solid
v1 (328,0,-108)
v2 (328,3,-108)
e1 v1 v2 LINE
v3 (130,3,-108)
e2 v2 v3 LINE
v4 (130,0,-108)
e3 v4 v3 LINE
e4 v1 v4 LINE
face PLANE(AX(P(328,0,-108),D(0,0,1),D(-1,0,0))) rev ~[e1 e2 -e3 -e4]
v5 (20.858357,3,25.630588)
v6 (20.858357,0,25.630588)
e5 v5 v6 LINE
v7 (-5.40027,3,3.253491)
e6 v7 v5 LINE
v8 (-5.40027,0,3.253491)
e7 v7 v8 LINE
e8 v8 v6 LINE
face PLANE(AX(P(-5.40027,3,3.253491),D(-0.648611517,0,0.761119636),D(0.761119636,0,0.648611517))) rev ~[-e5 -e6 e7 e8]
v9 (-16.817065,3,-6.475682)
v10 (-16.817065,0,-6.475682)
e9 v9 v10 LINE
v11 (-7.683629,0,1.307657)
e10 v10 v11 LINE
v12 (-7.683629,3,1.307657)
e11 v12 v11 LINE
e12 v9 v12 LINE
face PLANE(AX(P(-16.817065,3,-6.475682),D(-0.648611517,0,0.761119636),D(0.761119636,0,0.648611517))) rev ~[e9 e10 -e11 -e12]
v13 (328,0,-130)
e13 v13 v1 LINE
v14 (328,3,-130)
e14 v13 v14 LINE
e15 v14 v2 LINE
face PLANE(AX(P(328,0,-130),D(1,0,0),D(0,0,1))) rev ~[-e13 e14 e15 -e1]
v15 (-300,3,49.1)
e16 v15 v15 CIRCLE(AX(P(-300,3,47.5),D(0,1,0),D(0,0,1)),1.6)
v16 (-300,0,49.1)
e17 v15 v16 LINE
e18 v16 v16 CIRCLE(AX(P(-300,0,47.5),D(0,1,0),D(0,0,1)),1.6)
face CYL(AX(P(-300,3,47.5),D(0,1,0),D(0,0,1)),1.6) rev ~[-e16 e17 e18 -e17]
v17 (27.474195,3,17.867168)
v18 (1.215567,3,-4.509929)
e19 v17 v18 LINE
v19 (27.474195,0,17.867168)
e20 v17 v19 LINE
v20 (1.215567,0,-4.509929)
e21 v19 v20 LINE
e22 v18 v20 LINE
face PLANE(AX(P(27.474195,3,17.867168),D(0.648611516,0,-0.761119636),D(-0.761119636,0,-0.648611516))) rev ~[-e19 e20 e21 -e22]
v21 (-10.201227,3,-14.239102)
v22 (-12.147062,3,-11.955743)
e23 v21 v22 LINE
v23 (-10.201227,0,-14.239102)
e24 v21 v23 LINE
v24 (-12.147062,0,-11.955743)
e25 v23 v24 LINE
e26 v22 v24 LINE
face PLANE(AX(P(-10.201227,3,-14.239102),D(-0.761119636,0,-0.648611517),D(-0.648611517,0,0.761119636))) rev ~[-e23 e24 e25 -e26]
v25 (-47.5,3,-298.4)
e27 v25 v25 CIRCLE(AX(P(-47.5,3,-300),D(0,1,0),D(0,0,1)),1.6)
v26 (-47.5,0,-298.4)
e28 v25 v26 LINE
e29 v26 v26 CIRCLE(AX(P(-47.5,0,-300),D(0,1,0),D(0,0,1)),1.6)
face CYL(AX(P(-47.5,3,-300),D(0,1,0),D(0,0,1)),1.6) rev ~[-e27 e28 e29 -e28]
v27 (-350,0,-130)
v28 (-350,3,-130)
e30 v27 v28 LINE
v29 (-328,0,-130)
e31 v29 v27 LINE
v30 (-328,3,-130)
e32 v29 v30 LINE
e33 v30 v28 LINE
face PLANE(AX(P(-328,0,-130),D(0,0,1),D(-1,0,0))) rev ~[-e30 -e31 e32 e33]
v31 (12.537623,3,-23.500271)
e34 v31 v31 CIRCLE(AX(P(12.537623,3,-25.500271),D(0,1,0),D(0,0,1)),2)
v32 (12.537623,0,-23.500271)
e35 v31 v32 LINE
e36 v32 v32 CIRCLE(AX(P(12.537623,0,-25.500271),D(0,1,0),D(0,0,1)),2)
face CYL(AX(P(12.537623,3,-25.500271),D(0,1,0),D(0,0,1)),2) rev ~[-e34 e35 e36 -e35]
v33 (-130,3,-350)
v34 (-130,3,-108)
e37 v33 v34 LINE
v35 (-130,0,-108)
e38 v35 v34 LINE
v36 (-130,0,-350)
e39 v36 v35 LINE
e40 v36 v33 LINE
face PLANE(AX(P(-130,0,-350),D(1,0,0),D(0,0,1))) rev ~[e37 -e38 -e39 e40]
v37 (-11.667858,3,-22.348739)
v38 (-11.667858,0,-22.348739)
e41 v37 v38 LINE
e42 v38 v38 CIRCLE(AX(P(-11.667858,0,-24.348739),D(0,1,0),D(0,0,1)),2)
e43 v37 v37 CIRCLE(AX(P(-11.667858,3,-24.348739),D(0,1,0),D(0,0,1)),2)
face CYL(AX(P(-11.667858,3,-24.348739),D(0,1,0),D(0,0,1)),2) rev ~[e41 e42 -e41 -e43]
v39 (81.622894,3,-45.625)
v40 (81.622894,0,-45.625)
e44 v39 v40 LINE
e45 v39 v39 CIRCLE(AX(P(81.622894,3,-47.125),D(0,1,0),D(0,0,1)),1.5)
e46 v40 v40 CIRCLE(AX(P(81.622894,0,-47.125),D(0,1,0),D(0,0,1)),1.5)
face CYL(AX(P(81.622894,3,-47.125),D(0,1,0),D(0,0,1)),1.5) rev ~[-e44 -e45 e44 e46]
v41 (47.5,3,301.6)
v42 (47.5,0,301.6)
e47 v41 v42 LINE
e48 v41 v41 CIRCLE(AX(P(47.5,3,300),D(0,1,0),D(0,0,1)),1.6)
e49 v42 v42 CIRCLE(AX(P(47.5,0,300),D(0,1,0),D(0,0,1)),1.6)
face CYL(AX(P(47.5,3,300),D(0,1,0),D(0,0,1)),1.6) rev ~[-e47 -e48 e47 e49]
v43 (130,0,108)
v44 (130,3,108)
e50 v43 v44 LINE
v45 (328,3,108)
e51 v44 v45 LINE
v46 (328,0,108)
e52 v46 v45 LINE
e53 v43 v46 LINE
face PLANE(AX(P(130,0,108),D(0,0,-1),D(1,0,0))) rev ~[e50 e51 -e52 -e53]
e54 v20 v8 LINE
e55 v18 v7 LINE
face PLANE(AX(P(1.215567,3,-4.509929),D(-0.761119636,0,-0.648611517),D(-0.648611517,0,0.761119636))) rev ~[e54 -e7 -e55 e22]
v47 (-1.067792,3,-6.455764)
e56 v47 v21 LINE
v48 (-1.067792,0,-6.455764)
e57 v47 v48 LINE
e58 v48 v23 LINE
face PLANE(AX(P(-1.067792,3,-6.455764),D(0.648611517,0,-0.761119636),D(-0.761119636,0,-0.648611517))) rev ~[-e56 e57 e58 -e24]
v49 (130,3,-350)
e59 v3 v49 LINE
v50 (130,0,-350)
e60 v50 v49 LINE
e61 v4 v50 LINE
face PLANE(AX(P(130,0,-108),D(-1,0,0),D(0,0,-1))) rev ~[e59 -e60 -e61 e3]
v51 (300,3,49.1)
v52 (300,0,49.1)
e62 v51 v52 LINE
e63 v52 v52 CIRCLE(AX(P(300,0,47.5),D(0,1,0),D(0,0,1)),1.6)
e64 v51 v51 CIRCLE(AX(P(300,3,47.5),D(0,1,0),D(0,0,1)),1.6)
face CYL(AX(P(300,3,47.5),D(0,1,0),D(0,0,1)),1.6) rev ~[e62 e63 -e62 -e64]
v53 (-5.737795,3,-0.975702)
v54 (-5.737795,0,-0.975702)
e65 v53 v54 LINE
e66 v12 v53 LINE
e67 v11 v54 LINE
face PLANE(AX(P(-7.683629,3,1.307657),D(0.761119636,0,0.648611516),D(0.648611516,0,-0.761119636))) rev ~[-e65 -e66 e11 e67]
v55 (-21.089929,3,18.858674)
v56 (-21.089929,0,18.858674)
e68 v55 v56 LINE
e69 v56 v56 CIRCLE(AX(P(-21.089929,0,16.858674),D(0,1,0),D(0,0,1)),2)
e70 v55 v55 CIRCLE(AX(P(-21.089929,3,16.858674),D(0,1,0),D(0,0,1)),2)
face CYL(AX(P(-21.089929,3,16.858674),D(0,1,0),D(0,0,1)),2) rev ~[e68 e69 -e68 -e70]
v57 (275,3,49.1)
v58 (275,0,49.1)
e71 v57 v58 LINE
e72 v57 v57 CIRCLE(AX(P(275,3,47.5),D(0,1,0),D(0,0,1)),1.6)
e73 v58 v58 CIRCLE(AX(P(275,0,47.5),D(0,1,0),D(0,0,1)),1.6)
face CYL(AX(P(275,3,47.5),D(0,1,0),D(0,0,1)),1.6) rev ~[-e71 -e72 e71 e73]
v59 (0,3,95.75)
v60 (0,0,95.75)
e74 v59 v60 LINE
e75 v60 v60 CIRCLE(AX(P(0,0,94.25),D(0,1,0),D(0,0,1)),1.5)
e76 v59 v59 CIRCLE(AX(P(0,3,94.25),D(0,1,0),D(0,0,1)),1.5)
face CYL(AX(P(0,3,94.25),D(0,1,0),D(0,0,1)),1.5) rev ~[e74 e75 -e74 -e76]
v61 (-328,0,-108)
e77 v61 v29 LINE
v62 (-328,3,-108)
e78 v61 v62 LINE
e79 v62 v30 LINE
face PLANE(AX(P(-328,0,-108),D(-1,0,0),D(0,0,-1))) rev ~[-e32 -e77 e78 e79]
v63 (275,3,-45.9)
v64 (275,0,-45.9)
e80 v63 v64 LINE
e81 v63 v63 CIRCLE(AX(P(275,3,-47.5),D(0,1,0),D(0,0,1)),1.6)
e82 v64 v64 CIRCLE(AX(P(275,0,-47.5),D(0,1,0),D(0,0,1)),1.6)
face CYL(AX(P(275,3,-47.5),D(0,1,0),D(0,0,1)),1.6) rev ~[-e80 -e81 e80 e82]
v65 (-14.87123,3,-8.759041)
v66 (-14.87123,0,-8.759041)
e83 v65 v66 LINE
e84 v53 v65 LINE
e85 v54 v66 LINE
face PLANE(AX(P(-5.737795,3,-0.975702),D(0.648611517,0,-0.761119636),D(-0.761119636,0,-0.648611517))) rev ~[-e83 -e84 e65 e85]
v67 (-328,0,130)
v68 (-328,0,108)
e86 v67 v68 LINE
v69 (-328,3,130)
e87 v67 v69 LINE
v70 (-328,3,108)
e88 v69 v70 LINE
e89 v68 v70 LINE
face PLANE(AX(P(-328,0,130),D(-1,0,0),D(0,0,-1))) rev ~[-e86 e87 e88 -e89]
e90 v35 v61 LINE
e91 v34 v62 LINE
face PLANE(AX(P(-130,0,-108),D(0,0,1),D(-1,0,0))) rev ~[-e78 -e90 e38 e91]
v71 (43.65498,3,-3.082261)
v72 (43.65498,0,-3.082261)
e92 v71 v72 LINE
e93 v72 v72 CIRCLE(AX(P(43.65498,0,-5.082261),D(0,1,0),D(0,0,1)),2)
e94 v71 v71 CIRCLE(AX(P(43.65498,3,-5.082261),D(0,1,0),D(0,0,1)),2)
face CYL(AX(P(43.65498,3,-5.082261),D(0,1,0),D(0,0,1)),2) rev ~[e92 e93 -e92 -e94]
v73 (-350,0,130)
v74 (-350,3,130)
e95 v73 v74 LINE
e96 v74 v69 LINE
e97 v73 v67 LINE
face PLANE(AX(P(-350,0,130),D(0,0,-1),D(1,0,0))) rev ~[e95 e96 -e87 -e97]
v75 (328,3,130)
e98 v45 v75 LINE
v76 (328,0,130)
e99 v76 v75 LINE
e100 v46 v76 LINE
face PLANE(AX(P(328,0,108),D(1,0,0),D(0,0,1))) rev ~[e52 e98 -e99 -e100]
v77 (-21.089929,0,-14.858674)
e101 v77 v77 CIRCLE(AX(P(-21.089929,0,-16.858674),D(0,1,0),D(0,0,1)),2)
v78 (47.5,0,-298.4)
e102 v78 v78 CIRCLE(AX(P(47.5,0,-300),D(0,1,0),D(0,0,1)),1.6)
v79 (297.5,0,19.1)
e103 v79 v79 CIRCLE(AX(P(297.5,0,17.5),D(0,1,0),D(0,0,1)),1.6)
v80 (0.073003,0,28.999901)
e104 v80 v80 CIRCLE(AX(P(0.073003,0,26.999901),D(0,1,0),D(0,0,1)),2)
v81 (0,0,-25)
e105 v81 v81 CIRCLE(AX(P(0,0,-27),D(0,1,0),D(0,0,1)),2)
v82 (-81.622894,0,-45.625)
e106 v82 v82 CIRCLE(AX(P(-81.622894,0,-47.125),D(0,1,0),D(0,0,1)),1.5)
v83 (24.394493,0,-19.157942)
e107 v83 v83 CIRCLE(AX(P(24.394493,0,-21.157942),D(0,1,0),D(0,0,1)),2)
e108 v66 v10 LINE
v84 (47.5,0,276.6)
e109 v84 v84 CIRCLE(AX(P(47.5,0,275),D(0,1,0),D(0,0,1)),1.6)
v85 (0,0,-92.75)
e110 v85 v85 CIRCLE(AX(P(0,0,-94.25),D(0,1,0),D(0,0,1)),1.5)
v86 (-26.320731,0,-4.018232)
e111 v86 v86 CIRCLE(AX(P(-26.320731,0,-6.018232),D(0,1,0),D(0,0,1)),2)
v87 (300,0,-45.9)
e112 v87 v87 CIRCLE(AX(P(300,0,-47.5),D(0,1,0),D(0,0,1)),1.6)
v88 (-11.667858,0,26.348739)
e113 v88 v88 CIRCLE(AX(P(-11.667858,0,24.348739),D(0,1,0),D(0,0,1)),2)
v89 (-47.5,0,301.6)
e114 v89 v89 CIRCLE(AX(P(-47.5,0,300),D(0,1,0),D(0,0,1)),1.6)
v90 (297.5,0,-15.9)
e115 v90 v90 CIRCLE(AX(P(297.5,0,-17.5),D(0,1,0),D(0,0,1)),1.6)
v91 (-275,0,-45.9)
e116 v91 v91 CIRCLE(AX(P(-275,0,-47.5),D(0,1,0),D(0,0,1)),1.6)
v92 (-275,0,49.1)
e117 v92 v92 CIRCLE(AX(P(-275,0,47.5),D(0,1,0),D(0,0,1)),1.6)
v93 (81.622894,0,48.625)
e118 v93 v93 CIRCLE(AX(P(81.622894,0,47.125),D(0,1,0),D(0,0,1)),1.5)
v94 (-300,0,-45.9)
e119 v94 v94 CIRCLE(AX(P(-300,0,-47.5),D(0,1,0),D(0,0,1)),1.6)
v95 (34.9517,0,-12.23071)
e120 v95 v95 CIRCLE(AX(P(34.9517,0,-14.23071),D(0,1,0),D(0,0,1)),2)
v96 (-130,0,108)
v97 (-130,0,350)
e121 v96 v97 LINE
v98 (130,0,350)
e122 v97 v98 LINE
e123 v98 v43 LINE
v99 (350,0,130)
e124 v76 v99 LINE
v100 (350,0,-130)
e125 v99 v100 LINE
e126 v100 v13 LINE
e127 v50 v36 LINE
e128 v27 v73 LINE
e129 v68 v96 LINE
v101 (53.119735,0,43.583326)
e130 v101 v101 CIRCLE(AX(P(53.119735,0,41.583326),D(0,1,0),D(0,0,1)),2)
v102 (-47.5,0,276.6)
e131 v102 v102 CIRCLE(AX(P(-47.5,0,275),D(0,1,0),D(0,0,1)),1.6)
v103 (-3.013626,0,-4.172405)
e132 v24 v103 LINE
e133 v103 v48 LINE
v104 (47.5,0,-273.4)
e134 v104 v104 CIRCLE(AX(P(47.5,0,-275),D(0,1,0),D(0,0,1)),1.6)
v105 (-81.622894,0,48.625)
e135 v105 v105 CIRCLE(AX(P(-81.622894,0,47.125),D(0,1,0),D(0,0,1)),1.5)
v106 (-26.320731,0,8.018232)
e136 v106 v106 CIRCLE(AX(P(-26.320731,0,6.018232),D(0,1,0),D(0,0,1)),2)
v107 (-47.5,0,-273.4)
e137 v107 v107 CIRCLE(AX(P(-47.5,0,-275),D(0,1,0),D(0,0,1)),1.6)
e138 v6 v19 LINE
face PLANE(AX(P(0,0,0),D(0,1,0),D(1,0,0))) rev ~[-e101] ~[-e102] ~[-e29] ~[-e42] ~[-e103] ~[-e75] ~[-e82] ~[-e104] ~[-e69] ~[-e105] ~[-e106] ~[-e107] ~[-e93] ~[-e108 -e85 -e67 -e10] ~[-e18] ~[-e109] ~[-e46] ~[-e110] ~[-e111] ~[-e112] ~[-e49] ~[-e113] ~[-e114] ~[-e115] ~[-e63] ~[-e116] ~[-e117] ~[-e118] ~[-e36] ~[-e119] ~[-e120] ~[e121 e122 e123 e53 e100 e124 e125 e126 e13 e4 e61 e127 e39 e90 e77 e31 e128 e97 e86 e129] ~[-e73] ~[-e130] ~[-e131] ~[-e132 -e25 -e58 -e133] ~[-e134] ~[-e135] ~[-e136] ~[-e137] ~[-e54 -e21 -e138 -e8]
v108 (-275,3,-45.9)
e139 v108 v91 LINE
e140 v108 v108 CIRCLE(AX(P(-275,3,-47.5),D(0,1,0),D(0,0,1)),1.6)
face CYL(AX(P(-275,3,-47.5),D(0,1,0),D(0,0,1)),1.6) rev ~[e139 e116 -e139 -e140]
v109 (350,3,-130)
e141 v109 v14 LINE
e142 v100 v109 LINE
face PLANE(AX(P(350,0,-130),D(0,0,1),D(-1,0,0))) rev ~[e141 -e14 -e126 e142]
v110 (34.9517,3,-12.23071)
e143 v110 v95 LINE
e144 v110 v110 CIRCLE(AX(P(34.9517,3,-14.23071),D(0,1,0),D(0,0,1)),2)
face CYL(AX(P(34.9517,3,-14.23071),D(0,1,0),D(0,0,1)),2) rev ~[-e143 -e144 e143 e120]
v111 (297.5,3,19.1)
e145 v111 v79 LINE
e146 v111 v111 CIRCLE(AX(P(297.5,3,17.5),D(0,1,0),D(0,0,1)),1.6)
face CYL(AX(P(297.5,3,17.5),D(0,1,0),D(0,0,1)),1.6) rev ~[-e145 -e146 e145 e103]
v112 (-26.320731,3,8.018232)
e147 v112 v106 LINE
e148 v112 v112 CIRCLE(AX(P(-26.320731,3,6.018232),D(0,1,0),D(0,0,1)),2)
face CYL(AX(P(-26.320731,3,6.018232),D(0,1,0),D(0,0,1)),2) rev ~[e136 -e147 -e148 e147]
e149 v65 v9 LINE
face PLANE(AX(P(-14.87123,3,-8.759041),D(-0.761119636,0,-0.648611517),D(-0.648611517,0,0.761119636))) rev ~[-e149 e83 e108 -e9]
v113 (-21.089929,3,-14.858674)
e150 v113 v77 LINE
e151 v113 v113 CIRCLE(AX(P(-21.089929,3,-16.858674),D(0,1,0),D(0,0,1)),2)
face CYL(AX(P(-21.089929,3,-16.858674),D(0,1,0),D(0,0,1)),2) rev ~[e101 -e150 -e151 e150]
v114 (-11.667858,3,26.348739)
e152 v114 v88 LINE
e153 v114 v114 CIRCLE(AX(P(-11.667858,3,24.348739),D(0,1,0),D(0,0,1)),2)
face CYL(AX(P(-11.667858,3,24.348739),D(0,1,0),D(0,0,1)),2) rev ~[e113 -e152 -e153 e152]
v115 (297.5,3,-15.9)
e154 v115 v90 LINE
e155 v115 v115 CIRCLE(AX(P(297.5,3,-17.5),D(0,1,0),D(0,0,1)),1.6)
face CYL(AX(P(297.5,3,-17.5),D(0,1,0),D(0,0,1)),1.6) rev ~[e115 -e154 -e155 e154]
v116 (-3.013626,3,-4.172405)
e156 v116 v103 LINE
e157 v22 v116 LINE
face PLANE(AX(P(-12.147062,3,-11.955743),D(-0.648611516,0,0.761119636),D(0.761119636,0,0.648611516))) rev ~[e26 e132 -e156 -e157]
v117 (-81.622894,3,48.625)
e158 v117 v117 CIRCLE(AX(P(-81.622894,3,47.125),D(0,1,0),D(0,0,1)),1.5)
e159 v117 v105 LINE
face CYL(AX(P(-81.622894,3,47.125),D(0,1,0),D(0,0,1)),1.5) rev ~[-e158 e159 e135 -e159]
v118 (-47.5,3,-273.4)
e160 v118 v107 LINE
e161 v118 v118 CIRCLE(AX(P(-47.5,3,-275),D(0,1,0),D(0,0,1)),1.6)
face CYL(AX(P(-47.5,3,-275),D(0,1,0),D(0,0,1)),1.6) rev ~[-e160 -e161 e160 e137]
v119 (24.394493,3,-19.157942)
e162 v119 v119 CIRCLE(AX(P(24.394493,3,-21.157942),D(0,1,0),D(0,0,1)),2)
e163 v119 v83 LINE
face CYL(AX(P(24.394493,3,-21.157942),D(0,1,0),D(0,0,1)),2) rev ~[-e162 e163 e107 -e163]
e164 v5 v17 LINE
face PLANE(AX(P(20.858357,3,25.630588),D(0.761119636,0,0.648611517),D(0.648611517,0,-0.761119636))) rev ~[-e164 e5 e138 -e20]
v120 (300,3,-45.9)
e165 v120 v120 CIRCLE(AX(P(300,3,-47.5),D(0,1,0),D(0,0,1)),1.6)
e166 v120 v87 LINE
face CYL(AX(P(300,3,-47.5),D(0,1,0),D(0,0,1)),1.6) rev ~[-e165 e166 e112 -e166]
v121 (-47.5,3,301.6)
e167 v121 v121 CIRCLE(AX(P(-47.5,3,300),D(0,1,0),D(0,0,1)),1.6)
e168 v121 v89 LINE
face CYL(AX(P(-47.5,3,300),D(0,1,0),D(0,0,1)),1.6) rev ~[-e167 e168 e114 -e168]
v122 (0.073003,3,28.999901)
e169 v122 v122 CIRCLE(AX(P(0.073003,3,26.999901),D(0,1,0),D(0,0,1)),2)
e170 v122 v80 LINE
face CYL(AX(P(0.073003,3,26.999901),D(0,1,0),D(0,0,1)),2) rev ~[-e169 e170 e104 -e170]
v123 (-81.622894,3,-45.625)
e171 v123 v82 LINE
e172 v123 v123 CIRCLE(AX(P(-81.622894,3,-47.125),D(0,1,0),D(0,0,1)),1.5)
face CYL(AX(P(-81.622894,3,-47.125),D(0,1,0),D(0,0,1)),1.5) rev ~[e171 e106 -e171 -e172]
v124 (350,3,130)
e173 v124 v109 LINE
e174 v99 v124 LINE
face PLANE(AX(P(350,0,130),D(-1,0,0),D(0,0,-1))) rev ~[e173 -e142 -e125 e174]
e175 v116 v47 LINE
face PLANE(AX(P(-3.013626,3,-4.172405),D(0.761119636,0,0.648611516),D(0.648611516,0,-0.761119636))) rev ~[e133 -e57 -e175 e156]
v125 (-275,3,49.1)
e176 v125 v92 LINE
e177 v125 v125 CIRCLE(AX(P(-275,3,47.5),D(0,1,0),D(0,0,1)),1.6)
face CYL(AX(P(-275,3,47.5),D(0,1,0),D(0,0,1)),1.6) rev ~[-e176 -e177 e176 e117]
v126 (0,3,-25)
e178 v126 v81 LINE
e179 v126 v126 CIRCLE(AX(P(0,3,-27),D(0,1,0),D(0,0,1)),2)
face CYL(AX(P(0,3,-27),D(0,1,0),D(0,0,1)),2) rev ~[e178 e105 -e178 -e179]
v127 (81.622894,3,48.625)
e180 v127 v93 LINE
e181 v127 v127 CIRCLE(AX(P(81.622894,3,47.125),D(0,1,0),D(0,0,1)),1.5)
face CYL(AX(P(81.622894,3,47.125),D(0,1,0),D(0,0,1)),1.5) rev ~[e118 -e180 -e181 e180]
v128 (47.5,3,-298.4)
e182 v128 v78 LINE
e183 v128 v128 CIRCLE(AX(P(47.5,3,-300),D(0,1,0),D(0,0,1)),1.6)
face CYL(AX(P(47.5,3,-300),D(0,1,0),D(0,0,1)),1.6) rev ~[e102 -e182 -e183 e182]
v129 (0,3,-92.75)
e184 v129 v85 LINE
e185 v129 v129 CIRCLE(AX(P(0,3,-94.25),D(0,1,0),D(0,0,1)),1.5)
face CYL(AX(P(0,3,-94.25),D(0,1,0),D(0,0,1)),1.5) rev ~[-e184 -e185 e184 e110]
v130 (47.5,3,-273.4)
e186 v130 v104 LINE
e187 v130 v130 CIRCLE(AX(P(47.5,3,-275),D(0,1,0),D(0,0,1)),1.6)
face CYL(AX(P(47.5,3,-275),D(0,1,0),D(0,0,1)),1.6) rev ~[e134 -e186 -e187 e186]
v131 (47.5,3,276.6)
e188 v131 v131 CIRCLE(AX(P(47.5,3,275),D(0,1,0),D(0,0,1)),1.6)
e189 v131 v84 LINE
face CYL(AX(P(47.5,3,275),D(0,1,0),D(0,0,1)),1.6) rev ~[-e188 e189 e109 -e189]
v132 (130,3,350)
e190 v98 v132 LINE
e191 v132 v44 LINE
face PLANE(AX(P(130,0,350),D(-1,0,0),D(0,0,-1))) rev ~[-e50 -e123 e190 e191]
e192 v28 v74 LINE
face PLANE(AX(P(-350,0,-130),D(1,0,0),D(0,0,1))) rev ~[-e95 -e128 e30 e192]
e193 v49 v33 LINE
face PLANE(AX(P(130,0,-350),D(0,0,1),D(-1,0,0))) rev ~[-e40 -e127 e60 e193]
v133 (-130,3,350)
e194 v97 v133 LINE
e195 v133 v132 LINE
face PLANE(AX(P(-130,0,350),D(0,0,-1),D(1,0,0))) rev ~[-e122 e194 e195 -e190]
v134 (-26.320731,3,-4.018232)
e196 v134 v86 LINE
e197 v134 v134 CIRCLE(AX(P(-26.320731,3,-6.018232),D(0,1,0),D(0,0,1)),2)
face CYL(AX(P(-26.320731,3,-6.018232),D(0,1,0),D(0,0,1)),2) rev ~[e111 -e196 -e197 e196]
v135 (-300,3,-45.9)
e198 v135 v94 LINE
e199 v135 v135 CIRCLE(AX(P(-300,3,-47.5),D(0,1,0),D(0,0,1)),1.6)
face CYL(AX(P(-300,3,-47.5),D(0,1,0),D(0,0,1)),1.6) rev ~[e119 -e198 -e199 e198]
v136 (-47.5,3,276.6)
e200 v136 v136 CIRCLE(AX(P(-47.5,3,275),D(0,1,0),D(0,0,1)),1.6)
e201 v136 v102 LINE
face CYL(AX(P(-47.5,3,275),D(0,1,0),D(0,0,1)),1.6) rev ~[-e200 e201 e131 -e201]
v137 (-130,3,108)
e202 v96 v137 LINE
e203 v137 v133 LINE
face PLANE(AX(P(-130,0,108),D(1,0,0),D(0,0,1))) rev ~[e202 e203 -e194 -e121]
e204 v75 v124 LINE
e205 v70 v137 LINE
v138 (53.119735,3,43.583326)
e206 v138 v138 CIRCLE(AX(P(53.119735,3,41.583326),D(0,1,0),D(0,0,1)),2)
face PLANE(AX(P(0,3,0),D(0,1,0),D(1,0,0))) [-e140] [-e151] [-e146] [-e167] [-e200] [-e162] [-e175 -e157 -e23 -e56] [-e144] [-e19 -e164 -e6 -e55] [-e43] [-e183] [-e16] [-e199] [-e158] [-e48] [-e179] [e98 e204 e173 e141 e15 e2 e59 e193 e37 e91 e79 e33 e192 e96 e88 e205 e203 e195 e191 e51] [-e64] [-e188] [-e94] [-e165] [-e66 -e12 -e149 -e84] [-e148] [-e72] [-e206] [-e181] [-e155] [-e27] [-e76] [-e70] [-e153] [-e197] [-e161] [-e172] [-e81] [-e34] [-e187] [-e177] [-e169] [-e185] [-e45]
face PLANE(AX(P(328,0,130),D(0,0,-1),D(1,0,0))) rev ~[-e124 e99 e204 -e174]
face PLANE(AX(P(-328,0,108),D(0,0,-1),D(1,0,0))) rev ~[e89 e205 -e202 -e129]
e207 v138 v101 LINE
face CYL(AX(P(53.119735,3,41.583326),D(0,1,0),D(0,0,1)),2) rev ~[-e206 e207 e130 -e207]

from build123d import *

# Parameters (mm, degrees)
BOSS_EXTRUDE1_DEPTH = 3
SKETCH2_R           = 1.6
CUT_EXTRUDE1_DEPTH  = 495.98383812
SKETCH3_R           = 2
SKETCH3_R_2         = 1.5
CUT_EXTRUDE2_DEPTH  = 495.98383812


with BuildPart() as part:
    # Sketch1 → Boss-Extrude1 (new body)
    with BuildSketch(Plane(origin=(0, 0, 0), x_dir=(1, 0, 0), z_dir=(0, 1, 0))):
        Polygon((-350, -130), (-328, -130), (-328, -108), (-130, -108), (-130, -130), (-130, -350), (130, -350), (130, -130), (130, -108), (328, -108), (328, -130), (350, -130), (350, 130), (328, 130), (328, 108), (130, 108), (130, 130), (130, 350), (-130, 350), (-130, 130), (-130, 108), (-328, 108), (-328, 130), (-350, 130), align=None)
    extrude(amount=BOSS_EXTRUDE1_DEPTH)

    # Sketch2 → Cut-Extrude1 (cut, through all)
    with BuildSketch(Plane(origin=(0, 3, 0), x_dir=(1, 0, 0), z_dir=(0, 1, 0))):
        with Locations(Location((-300, 47.5, 0), (0, 0, 270))):
            Circle(SKETCH2_R)
        with Locations(Location((-300, -47.5, 0), (0, 0, 270))):
            Circle(SKETCH2_R)
        with Locations(Location((-47.5, 300, 0), (0, 0, 270))):
            Circle(SKETCH2_R)
        with Locations(Location((47.5, 300, 0), (0, 0, 270))):
            Circle(SKETCH2_R)
        with Locations(Location((-47.5, -300, 0), (0, 0, 270))):
            Circle(SKETCH2_R)
        with Locations(Location((47.5, -300, 0), (0, 0, 270))):
            Circle(SKETCH2_R)
        with Locations(Location((300, 47.5, 0), (0, 0, 270))):
            Circle(SKETCH2_R)
        with Locations(Location((300, -47.5, 0), (0, 0, 270))):
            Circle(SKETCH2_R)
        with Locations(Location((-275, 47.5, 0), (0, 0, 270))):
            Circle(SKETCH2_R)
        with Locations(Location((-275, -47.5, 0), (0, 0, 270))):
            Circle(SKETCH2_R)
        with Locations(Location((-47.5, 275, 0), (0, 0, 270))):
            Circle(SKETCH2_R)
        with Locations(Location((47.5, 275, 0), (0, 0, 270))):
            Circle(SKETCH2_R)
        with Locations(Location((275, 47.5, 0), (0, 0, 270))):
            Circle(SKETCH2_R)
        with Locations(Location((275, -47.5, 0), (0, 0, 270))):
            Circle(SKETCH2_R)
        with Locations(Location((-47.5, -275, 0), (0, 0, 270))):
            Circle(SKETCH2_R)
        with Locations(Location((47.5, -275, 0), (0, 0, 270))):
            Circle(SKETCH2_R)
        with Locations(Location((297.5, 17.5, 0), (0, 0, 270))):
            Circle(SKETCH2_R)
        with Locations(Location((297.5, -17.5, 0), (0, 0, 270))):
            Circle(SKETCH2_R)
    extrude(amount=-CUT_EXTRUDE1_DEPTH, mode=Mode.SUBTRACT)

    # Sketch3 → Cut-Extrude2 (cut, through all)
    with BuildSketch(Plane(origin=(0, 3, 0), x_dir=(1, 0, 0), z_dir=(0, 1, 0))):
        with Locations(Location((0, 27, 0), (0, 0, 270))):
            Circle(SKETCH3_R)
        with Locations(Location((12.537623126, 25.500271023, 0), (0, 0, 270))):
            Circle(SKETCH3_R)
        with Locations(Location((24.394492834, 21.157941995, 0), (0, 0, 270))):
            Circle(SKETCH3_R)
        with Locations(Location((34.951700365, 14.230709518, 0), (0, 0, 270))):
            Circle(SKETCH3_R)
        with Locations(Location((43.654980033, 5.082261362, 0), (0, 0, 270))):
            Circle(SKETCH3_R)
        with Locations(Location((53.119734703, -41.583325675, 0), (0, 0, 270))):
            Circle(SKETCH3_R)
        with Locations(Location((-11.667858187, 24.348738886, 0), (0, 0, 270))):
            Circle(SKETCH3_R)
        with Locations(Location((-21.089928763, 16.858674467, 0), (0, 0, 270))):
            Circle(SKETCH3_R)
        with Locations(Location((-26.320730998, 6.018232276, 0), (0, 0, 270))):
            Circle(SKETCH3_R)
        with Locations(Location((-26.320730998, -6.018232276, 0), (0, 0, 270))):
            Circle(SKETCH3_R)
        with Locations(Location((-21.089928763, -16.858674467, 0), (0, 0, 270))):
            Circle(SKETCH3_R)
        with Locations(Location((-11.667858187, -24.348738886, 0), (0, 0, 270))):
            Circle(SKETCH3_R)
        with Locations(Location((0.0730028, -26.999901307, 0), (0, 0, 270))):
            Circle(SKETCH3_R)
        with Locations(Location((0, 94.25, 0), (0, 0, 270))):
            Circle(SKETCH3_R_2)
        with Locations(Location((81.622894307, 47.125, 0), (0, 0, 270))):
            Circle(SKETCH3_R_2)
        with Locations(Location((81.622894307, -47.125, 0), (0, 0, 270))):
            Circle(SKETCH3_R_2)
        with Locations(Location((0, -94.25, 0), (0, 0, 270))):
            Circle(SKETCH3_R_2)
        with Locations(Location((-81.622894307, -47.125, 0), (0, 0, 270))):
            Circle(SKETCH3_R_2)
        with Locations(Location((-81.622894307, 47.125, 0), (0, 0, 270))):
            Circle(SKETCH3_R_2)
        Polygon((-5.400270308, -3.253491064), (20.858357141, -25.630588384), (27.47419461, -17.867168094), (1.21556716, 4.509929225), align=None)
        Polygon((-7.683629217, -1.307656515), (-5.737794668, 0.975702394), (-14.871230302, 8.759040592), (-16.817064852, 6.475681684), align=None)
        Polygon((-3.013626298, 4.172404866), (-1.067791749, 6.455763775), (-10.201227383, 14.239101973), (-12.147061933, 11.955743064), align=None)
    extrude(amount=-CUT_EXTRUDE2_DEPTH, mode=Mode.SUBTRACT)


solid = part.part
